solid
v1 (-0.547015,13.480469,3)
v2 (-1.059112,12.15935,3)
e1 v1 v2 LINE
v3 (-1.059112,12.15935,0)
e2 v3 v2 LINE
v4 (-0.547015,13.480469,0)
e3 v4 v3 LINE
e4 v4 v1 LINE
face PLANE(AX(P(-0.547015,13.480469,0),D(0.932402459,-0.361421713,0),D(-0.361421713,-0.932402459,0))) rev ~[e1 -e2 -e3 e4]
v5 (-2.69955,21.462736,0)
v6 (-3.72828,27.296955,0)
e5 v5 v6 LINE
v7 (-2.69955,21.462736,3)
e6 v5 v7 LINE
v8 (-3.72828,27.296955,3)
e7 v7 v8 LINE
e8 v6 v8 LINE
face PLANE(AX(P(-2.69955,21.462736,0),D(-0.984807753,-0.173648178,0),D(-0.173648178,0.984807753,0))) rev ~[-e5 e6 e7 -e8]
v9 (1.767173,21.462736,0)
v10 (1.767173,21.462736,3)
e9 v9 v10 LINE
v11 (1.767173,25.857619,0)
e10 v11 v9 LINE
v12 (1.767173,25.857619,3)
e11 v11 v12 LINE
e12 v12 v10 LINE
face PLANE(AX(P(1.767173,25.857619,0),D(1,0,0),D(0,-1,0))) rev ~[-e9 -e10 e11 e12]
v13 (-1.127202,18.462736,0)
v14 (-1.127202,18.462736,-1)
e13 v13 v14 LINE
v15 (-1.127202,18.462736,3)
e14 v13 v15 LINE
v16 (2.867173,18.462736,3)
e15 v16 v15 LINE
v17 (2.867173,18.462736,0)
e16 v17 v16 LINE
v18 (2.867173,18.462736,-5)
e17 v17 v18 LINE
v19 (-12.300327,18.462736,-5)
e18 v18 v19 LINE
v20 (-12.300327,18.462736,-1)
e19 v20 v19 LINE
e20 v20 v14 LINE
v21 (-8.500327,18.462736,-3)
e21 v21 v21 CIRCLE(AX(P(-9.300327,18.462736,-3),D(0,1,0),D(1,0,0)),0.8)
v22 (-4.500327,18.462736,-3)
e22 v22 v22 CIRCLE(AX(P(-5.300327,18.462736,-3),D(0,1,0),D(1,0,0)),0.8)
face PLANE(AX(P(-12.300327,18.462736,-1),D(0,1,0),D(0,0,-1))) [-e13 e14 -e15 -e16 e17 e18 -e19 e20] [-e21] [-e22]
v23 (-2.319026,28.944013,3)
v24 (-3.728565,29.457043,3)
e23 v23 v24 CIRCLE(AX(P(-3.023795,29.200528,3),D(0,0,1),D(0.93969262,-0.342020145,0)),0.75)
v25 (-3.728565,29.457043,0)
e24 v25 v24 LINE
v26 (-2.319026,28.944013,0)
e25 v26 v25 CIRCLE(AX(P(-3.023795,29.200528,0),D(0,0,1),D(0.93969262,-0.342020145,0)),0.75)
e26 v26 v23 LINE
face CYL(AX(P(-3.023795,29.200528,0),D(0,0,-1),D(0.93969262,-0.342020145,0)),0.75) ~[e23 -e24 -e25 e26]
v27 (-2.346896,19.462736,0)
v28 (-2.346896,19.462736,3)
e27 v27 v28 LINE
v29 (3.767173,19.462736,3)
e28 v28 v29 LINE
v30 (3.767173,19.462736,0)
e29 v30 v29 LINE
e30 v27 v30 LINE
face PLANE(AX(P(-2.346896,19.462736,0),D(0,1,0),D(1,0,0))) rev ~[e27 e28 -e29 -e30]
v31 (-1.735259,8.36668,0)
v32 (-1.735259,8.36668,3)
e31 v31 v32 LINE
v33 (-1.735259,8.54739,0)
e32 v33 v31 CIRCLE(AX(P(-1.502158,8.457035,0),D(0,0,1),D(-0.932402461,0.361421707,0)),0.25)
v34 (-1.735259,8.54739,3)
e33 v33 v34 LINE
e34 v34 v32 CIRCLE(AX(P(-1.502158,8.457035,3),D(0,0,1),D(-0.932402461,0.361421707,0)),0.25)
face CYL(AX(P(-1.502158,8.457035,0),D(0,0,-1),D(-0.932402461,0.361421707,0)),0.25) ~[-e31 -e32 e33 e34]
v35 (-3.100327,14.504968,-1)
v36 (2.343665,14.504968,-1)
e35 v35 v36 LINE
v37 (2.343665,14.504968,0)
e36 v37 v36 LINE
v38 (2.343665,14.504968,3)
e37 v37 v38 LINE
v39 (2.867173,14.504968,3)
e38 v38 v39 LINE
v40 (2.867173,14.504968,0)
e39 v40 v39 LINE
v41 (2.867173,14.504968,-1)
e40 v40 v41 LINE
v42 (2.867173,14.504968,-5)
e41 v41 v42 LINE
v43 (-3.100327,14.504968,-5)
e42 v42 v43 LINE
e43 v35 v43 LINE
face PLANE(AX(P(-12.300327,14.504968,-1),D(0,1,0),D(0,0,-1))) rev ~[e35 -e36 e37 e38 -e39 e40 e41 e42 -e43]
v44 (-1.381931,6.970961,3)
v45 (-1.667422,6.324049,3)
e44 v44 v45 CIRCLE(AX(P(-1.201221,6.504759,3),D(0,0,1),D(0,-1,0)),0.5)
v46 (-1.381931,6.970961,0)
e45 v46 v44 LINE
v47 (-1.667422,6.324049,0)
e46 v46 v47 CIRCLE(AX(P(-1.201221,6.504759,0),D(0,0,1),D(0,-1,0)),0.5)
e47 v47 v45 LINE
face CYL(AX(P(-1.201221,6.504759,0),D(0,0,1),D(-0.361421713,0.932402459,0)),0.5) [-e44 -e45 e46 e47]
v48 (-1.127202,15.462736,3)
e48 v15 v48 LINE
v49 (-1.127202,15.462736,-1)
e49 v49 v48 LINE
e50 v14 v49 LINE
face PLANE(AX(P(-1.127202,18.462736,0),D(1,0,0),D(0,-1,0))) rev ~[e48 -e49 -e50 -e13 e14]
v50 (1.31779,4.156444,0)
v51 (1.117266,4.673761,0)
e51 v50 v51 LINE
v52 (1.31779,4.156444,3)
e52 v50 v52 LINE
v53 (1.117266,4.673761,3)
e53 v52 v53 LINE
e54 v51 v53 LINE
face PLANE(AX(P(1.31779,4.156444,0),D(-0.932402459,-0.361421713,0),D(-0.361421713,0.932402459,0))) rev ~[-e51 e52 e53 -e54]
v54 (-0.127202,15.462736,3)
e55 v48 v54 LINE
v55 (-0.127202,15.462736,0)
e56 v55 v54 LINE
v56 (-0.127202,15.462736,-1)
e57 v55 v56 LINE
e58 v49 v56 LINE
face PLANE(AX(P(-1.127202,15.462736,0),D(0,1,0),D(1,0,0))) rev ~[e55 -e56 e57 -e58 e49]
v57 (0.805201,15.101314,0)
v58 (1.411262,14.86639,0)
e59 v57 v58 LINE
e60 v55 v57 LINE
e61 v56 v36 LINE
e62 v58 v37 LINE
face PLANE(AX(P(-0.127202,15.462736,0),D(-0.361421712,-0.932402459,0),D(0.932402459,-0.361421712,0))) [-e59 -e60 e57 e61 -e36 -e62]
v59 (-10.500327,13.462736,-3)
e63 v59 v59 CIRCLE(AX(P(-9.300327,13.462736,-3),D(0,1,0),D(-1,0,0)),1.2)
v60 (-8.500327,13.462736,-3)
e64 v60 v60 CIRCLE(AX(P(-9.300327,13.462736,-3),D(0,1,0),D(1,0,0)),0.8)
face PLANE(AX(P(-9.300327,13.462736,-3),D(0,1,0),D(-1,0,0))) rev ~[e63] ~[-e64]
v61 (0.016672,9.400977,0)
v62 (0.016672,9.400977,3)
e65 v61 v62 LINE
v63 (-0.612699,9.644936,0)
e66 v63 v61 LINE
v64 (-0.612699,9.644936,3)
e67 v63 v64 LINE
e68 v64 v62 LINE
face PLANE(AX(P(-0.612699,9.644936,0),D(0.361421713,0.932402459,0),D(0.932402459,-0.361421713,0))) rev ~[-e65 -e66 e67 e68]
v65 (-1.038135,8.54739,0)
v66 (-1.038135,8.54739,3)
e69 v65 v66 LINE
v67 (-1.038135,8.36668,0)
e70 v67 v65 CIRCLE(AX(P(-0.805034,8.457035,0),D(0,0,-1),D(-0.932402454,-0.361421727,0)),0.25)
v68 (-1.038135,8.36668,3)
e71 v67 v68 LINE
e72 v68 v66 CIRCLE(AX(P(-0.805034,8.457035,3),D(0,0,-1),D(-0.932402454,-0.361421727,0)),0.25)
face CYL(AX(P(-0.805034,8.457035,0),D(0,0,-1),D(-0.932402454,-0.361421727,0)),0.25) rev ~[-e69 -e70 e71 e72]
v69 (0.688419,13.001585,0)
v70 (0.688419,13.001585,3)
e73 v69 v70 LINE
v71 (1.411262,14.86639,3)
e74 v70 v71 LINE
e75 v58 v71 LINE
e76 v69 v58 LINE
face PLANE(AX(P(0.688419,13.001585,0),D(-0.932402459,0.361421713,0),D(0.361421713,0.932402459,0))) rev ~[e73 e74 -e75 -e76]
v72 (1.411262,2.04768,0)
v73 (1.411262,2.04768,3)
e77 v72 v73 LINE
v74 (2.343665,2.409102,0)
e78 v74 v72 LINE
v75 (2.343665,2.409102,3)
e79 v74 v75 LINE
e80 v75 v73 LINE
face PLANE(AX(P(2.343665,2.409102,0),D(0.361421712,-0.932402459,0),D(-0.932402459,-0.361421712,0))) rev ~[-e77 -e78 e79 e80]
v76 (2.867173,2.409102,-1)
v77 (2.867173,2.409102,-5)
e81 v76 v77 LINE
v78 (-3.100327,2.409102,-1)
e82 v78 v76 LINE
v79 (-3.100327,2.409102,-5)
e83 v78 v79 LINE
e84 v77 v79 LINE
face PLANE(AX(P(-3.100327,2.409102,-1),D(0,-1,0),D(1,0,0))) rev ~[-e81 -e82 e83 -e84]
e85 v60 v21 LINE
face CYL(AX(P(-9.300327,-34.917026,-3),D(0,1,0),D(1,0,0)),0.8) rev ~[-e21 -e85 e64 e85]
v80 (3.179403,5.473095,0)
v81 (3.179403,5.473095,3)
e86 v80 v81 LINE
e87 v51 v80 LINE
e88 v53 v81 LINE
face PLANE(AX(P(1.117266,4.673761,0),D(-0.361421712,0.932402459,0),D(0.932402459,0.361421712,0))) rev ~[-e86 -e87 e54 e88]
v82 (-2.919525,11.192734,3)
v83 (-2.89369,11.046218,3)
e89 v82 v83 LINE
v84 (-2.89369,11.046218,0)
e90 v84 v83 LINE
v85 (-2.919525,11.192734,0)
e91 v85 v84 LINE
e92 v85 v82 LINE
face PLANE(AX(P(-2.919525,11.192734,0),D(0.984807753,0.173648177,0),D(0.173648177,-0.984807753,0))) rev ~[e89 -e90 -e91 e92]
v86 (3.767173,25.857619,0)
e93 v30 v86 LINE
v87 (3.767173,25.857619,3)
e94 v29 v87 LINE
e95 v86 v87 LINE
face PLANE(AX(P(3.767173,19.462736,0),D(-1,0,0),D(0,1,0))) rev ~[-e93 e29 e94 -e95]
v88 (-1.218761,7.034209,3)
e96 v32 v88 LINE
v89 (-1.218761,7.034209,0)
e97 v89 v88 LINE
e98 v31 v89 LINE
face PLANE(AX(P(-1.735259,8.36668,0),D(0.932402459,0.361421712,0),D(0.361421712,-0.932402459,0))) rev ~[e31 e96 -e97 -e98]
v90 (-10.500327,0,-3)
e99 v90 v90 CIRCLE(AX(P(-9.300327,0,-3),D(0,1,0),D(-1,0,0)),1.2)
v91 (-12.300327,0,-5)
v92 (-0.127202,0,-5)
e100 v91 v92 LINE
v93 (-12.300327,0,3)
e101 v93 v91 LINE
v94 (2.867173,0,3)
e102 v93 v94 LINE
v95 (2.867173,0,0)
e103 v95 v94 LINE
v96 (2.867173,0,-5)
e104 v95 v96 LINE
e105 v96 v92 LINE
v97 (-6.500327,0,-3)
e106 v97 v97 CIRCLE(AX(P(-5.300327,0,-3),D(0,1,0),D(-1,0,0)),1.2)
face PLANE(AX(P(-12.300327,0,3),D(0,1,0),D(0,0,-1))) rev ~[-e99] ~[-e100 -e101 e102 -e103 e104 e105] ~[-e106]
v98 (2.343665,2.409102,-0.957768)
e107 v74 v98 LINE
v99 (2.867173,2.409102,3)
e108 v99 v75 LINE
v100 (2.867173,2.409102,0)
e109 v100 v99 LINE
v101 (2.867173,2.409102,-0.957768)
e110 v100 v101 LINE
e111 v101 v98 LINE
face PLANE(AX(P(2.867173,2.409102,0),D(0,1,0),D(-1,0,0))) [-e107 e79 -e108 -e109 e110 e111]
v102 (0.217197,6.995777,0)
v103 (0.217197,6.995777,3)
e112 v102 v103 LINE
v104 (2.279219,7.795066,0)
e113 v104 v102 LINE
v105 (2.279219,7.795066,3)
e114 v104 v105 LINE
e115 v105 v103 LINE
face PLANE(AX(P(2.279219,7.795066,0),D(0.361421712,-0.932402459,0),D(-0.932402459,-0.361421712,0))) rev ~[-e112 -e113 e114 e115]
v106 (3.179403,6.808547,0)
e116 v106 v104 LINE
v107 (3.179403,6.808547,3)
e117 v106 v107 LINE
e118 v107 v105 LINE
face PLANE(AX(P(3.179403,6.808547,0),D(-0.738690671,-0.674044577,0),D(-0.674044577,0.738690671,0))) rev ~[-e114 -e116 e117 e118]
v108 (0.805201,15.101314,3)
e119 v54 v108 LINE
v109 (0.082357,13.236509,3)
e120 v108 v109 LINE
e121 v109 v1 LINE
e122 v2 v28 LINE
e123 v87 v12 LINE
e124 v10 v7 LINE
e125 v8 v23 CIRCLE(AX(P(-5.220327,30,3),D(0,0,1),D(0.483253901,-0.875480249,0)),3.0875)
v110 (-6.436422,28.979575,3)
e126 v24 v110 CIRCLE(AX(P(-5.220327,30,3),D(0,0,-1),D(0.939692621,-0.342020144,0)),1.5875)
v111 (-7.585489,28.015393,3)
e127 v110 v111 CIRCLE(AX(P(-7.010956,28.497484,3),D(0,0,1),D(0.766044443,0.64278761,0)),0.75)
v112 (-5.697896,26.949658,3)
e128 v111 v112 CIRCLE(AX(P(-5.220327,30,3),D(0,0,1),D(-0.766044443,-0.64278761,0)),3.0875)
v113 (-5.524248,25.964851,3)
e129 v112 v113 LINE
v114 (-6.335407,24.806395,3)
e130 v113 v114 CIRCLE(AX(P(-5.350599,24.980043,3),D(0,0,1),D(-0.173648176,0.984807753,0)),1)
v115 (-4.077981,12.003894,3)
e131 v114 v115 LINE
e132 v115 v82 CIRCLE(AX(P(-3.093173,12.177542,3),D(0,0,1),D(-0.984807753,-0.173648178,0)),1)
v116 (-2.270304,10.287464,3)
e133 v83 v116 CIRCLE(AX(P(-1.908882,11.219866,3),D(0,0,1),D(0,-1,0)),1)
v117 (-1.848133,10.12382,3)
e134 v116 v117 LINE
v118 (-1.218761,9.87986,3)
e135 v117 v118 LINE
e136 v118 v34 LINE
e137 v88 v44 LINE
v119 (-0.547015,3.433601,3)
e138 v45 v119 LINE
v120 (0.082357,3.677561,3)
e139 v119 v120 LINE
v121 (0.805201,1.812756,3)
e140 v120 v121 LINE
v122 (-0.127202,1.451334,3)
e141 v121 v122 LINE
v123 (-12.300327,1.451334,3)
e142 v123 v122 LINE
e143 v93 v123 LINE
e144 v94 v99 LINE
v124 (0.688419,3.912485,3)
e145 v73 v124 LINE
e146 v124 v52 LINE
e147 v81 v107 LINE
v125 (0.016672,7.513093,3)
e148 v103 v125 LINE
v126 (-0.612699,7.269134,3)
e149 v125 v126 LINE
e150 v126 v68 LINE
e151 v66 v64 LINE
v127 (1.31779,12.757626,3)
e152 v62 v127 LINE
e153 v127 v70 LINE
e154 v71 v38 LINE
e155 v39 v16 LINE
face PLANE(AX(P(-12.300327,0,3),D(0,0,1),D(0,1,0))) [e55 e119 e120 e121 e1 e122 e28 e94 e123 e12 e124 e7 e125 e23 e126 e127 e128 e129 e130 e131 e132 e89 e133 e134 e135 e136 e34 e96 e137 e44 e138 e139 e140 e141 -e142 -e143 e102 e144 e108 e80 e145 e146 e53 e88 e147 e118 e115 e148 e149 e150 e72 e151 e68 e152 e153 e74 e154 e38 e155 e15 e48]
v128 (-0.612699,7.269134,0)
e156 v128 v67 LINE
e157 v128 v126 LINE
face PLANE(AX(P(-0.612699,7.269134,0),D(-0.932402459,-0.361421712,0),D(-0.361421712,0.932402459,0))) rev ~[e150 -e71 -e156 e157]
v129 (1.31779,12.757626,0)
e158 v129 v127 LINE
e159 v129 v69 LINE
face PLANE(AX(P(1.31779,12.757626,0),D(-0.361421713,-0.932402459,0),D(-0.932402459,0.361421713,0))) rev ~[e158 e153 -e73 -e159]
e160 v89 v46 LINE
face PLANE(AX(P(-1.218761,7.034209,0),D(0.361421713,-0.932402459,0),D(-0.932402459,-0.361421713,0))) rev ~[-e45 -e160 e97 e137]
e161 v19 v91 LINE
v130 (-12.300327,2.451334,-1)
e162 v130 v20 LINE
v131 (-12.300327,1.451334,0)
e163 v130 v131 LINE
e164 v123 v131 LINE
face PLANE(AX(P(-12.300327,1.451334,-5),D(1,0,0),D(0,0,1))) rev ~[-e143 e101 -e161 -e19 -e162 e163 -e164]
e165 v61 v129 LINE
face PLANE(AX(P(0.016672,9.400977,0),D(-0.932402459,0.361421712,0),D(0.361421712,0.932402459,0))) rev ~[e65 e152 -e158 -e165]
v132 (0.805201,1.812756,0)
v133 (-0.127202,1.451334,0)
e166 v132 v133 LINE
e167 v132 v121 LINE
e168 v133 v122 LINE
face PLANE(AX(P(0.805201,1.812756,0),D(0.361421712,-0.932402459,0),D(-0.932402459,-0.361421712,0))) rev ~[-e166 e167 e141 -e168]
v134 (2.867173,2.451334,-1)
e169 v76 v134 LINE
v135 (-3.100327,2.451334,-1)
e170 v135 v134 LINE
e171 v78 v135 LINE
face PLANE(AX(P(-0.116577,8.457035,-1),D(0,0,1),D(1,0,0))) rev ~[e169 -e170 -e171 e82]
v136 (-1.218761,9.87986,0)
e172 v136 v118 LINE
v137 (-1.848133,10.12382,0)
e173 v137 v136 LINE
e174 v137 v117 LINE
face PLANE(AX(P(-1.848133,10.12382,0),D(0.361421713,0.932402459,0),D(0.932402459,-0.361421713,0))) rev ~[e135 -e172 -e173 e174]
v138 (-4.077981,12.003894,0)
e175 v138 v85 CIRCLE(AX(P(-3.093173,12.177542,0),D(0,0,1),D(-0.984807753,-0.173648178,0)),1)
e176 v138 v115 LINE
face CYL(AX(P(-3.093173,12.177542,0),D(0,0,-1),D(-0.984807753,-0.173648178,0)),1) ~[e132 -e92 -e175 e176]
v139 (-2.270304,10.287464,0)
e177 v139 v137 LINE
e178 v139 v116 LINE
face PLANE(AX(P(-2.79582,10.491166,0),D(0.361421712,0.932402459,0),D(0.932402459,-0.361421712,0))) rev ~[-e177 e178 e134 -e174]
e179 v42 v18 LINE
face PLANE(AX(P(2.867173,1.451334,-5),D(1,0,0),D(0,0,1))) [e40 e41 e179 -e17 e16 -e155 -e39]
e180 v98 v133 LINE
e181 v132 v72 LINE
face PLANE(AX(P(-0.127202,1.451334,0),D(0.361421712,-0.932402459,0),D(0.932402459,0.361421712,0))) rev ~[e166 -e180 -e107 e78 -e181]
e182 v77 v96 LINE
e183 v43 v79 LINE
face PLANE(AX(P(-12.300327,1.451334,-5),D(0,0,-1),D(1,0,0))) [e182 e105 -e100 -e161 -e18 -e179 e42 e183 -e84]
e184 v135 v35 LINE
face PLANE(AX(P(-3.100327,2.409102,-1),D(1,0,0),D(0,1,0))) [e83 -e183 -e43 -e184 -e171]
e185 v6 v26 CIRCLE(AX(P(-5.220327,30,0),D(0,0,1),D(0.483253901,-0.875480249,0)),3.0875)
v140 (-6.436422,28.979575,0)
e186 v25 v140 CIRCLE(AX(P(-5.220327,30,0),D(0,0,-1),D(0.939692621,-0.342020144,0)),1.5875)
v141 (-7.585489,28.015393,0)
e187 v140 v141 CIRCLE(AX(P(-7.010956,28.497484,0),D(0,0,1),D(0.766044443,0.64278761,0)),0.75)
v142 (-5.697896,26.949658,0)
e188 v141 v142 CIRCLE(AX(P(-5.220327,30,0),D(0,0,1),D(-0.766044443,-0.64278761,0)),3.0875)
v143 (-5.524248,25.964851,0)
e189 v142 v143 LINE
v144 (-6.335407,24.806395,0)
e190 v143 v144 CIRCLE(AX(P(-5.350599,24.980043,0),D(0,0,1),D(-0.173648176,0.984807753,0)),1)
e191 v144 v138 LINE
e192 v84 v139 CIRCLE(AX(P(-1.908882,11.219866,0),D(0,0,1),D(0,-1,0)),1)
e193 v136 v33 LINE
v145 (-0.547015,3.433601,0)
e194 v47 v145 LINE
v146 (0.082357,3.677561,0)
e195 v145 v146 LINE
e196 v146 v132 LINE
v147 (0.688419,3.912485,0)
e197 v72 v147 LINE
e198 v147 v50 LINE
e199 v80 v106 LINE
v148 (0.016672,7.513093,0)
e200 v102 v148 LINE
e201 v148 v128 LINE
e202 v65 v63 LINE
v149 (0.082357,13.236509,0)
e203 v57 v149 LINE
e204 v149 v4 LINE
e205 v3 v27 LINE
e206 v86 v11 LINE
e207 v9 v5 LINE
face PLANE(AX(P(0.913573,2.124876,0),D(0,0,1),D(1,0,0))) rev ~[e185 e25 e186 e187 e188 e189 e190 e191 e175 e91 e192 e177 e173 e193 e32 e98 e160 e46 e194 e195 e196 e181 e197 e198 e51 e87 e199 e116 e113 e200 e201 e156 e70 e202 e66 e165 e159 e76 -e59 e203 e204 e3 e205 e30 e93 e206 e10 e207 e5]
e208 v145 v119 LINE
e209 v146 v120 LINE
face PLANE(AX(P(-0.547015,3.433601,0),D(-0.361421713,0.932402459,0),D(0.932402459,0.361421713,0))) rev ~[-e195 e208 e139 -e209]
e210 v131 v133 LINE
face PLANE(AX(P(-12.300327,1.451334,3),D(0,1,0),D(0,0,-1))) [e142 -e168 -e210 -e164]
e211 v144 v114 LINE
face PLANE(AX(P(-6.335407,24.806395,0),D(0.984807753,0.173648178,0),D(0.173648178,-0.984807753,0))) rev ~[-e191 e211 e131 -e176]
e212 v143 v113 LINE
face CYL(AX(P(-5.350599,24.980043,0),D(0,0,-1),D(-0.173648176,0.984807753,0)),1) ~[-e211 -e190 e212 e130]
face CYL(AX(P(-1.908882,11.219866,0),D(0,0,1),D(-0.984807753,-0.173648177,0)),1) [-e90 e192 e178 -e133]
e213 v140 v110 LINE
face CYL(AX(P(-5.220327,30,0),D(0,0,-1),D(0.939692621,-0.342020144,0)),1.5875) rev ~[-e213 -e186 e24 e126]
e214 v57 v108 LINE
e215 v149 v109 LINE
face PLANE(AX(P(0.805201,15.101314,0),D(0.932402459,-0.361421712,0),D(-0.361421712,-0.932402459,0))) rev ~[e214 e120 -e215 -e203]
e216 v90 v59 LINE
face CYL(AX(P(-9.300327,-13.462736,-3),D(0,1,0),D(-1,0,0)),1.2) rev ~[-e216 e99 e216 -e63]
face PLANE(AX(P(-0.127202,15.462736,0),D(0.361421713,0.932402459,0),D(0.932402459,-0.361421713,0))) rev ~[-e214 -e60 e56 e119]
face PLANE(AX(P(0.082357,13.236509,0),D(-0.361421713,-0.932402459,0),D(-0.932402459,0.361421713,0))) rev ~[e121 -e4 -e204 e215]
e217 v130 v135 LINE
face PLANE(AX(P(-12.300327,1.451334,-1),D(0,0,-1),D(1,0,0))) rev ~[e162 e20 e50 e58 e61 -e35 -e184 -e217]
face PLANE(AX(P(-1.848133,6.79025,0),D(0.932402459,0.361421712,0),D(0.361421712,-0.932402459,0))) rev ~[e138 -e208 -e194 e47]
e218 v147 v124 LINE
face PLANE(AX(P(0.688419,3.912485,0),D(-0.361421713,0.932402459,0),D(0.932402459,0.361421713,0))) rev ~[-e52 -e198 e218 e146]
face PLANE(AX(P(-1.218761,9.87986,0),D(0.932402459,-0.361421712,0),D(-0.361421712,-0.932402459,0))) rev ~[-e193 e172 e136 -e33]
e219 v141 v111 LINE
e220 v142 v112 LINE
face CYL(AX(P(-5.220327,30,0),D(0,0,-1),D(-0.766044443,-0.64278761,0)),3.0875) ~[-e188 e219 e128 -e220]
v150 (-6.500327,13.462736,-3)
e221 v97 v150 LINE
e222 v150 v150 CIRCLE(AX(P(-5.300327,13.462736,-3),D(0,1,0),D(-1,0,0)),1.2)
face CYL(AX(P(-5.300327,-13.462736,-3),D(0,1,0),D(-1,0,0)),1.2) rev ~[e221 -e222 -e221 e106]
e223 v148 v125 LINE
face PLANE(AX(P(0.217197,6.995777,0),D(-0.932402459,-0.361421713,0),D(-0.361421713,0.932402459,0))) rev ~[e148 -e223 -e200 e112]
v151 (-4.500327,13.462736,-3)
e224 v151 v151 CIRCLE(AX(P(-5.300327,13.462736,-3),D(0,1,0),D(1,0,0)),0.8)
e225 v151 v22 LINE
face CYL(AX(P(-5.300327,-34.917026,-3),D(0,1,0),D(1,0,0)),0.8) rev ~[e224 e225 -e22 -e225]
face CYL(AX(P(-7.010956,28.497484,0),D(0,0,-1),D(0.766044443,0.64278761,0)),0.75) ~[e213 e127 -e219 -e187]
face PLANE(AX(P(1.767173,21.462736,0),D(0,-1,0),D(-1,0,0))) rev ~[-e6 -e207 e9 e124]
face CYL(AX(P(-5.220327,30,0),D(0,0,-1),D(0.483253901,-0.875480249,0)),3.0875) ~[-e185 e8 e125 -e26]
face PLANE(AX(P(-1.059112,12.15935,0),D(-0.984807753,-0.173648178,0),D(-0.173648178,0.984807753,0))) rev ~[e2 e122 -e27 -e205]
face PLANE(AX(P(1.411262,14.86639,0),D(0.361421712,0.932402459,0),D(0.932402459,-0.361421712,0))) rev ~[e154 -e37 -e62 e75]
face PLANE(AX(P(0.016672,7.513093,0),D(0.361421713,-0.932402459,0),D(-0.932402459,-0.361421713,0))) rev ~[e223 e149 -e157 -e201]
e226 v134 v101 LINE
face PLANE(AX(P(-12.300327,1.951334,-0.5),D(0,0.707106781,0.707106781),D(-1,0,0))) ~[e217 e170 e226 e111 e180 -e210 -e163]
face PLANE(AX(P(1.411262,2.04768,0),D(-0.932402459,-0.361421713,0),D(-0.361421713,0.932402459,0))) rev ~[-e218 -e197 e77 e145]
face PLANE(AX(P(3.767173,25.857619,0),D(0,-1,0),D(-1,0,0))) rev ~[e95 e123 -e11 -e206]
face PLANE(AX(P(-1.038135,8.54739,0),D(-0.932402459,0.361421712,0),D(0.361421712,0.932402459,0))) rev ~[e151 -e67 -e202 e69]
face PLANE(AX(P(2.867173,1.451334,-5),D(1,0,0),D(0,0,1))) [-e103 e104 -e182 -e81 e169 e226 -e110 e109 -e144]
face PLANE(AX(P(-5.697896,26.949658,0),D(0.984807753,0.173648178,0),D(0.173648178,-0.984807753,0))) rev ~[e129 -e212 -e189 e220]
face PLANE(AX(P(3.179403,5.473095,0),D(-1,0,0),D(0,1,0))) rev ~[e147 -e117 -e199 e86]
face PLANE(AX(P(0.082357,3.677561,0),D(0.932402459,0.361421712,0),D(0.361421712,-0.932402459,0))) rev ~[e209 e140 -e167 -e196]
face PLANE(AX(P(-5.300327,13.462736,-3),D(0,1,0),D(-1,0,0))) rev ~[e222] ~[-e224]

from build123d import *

# Parameters (mm, degrees)
BOSS_SWITCH_BODY_DEPTH            = 3
SKETCH1_W                         = 2.994375291
SKETCH1_H                         = 2.409101515
SKETCH1_W_2                       = 3.994375291
SKETCH1_H_2                       = 3.957767538
BOSS_FLANGE_WIDTH_DEPTH           = 5
BOSS_FLANGE_HEIGHT_REACH          = 36.354
SKETCH2_W                         = 4
SKETCH2_H                         = 3.957767538
SKETCH2_W_2                       = 8
SKETCH2_H_2                       = 1.451333978
SKETCH17_W                        = 15.1675
SKETCH17_H                        = 4
BOSS_FLANGE_SUPPORT_DEPTH         = 13.053634428
CUT_WALL_GAP_DEPTH                = 1
TAP_DRILL_FOR_M2X0_4_TAP1_D       = 1.6
M2_CLEARANCE_HOLE2_D              = 2.4
M2_CLEARANCE_HOLE2_DEPTH          = 13.462735941
CHAMFER_FLANGE_SUPPORT_3_SIZE     = 1
FILLET1_R                         = 1
FILLET2_R                         = 0.5
SKETCH28_W                        = 5.9675
SKETCH28_H                        = 12.095866891
CUT_PRINT_SUPPORT_CLEARANCE_DEPTH = 33.624103931


with BuildPart() as part:
    # Sketch-SwitchBossUp → Boss-Switch Body (new body)
    with BuildSketch(Plane.XY):
        with BuildLine():
            Line((-5.697895702, 26.949658376), (-5.524247524, 25.964850623))
            ThreePointArc((-5.524247524, 25.964850623), (-6.169751391, 25.553619307), (-6.3354071, 24.806394693))
            Line((-6.3354071, 24.806394693), (-4.07798079, 12.003893904))
            ThreePointArc((-4.07798079, 12.003893904), (-3.666749473, 11.358390037), (-2.919524859, 11.192734328))
            Line((-2.919524859, 11.192734328), (-2.795819507, 10.49116641))
            Line((-2.795819507, 10.49116641), (-1.8481327, 10.123820116))
            Line((-1.8481327, 10.123820116), (-1.21876104, 9.87986046))
            Line((-1.21876104, 9.87986046), (-1.735258621, 8.547390389))
            ThreePointArc((-1.735258621, 8.547390389), (-1.752158006, 8.457034961), (-1.735258621, 8.366679532))
            Line((-1.735258621, 8.366679532), (-1.21876104, 7.034209461))
            Line((-1.21876104, 7.034209461), (-1.8481327, 6.790249805))
            Line((-1.8481327, 6.790249805), (-0.547014535, 3.433600952))
            Line((-0.547014535, 3.433600952), (0.082357125, 3.677560608))
            Line((0.082357125, 3.677560608), (0.805200549, 1.81275569))
            Line((0.805200549, 1.81275569), (-0.12720191, 1.451333978))
            Line((-0.12720191, 1.451333978), (-0.12720191, 0))
            Line((-0.12720191, 0), (2.867173381, 0))
            Line((2.867173381, 0), (2.867173381, 2.409101515))
            Line((2.867173381, 2.409101515), (2.343664607, 2.409101515))
            Line((2.343664607, 2.409101515), (1.411262148, 2.047679803))
            Line((1.411262148, 2.047679803), (0.688418723, 3.912484721))
            Line((0.688418723, 3.912484721), (1.317790383, 4.156444377))
            Line((1.317790383, 4.156444377), (1.117265944, 4.673761056))
            Line((1.117265944, 4.673761056), (3.17940291, 5.473095148))
            Line((3.17940291, 5.473095148), (3.17940291, 6.808547192))
            Line((3.17940291, 6.808547192), (2.279218661, 7.795066081))
            Line((2.279218661, 7.795066081), (0.217196658, 6.995776551))
            Line((0.217196658, 6.995776551), (0.016672219, 7.51309323))
            Line((0.016672219, 7.51309323), (-0.612699441, 7.269133574))
            Line((-0.612699441, 7.269133574), (-1.038134762, 8.366679532))
            ThreePointArc((-1.038134762, 8.366679532), (-1.055034148, 8.457034961), (-1.038134762, 8.547390389))
            Line((-1.038134762, 8.547390389), (-0.612699441, 9.644936347))
            Line((-0.612699441, 9.644936347), (0.016672219, 9.400976691))
            Line((0.016672219, 9.400976691), (1.317790383, 12.757625544))
            Line((1.317790383, 12.757625544), (0.688418723, 13.0015852))
            Line((0.688418723, 13.0015852), (1.411262148, 14.866390118))
            Line((1.411262148, 14.866390118), (2.343664607, 14.504968406))
            Line((2.343664607, 14.504968406), (2.867173381, 14.504968406))
            Line((2.867173381, 14.504968406), (2.867173381, 18.462735944))
            Line((2.867173381, 18.462735944), (-0.111637615, 18.462735944))
            Line((-0.111637615, 18.462735944), (-1.12720191, 18.462735944))
            Line((-1.12720191, 18.462735944), (-1.12720191, 15.462735944))
            Line((-1.12720191, 15.462735944), (-0.12720191, 15.462735944))
            Line((-0.12720191, 15.462735944), (0.805200549, 15.101314231))
            Line((0.805200549, 15.101314231), (0.082357125, 13.236509313))
            Line((0.082357125, 13.236509313), (-0.547014535, 13.480468969))
            Line((-0.547014535, 13.480468969), (-1.059112089, 12.159350171))
            Line((-1.059112089, 12.159350171), (-2.346896051, 19.462735944))
            Line((-2.346896051, 19.462735944), (3.767173381, 19.462735944))
            Line((3.767173381, 19.462735944), (3.767173381, 25.857619356))
            Line((3.767173381, 25.857619356), (1.767173381, 25.857619356))
            Line((1.767173381, 25.857619356), (1.767173381, 21.462735944))
            Line((1.767173381, 21.462735944), (-2.699550012, 21.462735944))
            Line((-2.699550012, 21.462735944), (-3.728280196, 27.296954732))
            ThreePointArc((-3.728280196, 27.296954732), (-2.874356585, 27.992742953), (-2.319025652, 28.944012807))
            ThreePointArc((-2.319025652, 28.944012807), (-2.76728001, 29.905297381), (-3.728564583, 29.457043022))
            ThreePointArc((-3.728564583, 29.457043022), (-4.944660137, 28.436617692), (-6.436422172, 28.97957467))
            ThreePointArc((-6.436422172, 28.97957467), (-7.493046212, 29.072017295), (-7.585488837, 28.015393255))
            ThreePointArc((-7.585488837, 28.015393255), (-6.738295005, 27.311426358), (-5.697895702, 26.949658376))
        make_face()
    extrude(amount=BOSS_SWITCH_BODY_DEPTH)

    # Sketch1 → Boss-Flange Width (add)
    with BuildSketch(Plane(origin=(0, 0, 0), x_dir=(-1, 0, 0), z_dir=(0, 0, -1))):
        with Locations((-1.369985736, 1.204550758)):
            Rectangle(SKETCH1_W, SKETCH1_H)
        with Locations((-0.869985736, 16.483852175)):
            Rectangle(SKETCH1_W_2, SKETCH1_H_2)
    extrude(amount=BOSS_FLANGE_WIDTH_DEPTH)

    # Boss-Flange Height: up to this face of the body (flat: up to its plane)
    boss_flange_height_end = Plane(part.part.faces().sort_by_distance((-0.12720191, 1.077409098, -1.438016547))[0])
    # Sketch2 → Boss-Flange Height (add, up to the picked face)
    with BuildSketch(Plane(origin=(-12.300326619, 0, 0), x_dir=(0, 0, -1), z_dir=(1, 0, 0)), mode=Mode.PRIVATE) as boss_flange_height_sk1:
        with Locations((3, 16.483852175)):
            Rectangle(SKETCH2_W, SKETCH2_H)
    boss_flange_height_tool1 = split(extrude(boss_flange_height_sk1.sketch, amount=BOSS_FLANGE_HEIGHT_REACH, mode=Mode.PRIVATE), bisect_by=boss_flange_height_end, keep=Keep.BOTH, mode=Mode.PRIVATE)
    # Sketch2 → Boss-Flange Height (add, up to the picked face)
    with BuildSketch(Plane(origin=(-12.300326619, 0, 0), x_dir=(0, 0, -1), z_dir=(1, 0, 0)), mode=Mode.PRIVATE) as boss_flange_height_sk2:
        with Locations((1, 0.725666989)):
            Rectangle(SKETCH2_W_2, SKETCH2_H_2)
    boss_flange_height_tool2 = split(extrude(boss_flange_height_sk2.sketch, amount=BOSS_FLANGE_HEIGHT_REACH, mode=Mode.PRIVATE), bisect_by=boss_flange_height_end, keep=Keep.BOTH, mode=Mode.PRIVATE)
    add(boss_flange_height_tool1.solids().sort_by(Axis((-12.300327, 16.483852, -3), (1, 0, 0)))[0])
    add(boss_flange_height_tool2.solids().sort_by(Axis((-12.300327, 0.725667, -1), (1, 0, 0)))[0])

    # Sketch17 → Boss-Flange Support (add)
    with BuildSketch(Plane.XZ.offset(-1.451333978)):
        with Locations((-4.716576619, -3)):
            Rectangle(SKETCH17_W, SKETCH17_H)
    extrude(amount=-BOSS_FLANGE_SUPPORT_DEPTH)

    # Sketch27 → Cut-Wall Gap (cut)
    with BuildSketch(Plane.XY):
        Polygon((-0.12720191, 15.462735944), (2.343664607, 14.504968406), (-1.12720191, 14.504968406), (-1.12720191, 15.462735944), align=None)
        Polygon((2.343664607, 2.409101515), (-0.12720191, 2.409101515), (-0.12720191, 1.451333978), align=None)
    extrude(amount=-CUT_WALL_GAP_DEPTH, mode=Mode.SUBTRACT)

    # Tap Drill for M2x0.4 Tap1 (through all)
    with Locations(Plane(origin=(0, 0, 0), x_dir=(-1, 0, 0), z_dir=(0, -1, 0))):
        with Locations((9.300326619, 3), (5.300326619, 3)):
            Hole(TAP_DRILL_FOR_M2X0_4_TAP1_D / 2)

    # M2 Clearance Hole2
    with Locations(Plane.XZ):
        with Locations((-9.300326619, -3), (-5.300326619, -3)):
            Hole(M2_CLEARANCE_HOLE2_D / 2, depth=M2_CLEARANCE_HOLE2_DEPTH)

    # Chamfer-Flange Support 3
    chamfer_flange_support_3_edges = [part.edges().sort_by_distance(p)[0] for p in [
        (-6.213764264, 1.451333978, -1),
    ]]
    chamfer(chamfer_flange_support_3_edges, length=CHAMFER_FLANGE_SUPPORT_3_SIZE)

    # Fillet1
    fillet1_edges = [part.edges().sort_by_distance(p)[0] for p in [
        (-2.795819507, 10.49116641, 1.5),
    ]]
    fillet(fillet1_edges, radius=FILLET1_R)

    # Fillet2
    fillet2_edges = [part.edges().sort_by_distance(p)[0] for p in [
        (-1.8481327, 6.790249805, 1.5),
    ]]
    fillet(fillet2_edges, radius=FILLET2_R)

    # Sketch28 → Cut-Print Support Clearance (cut, through all)
    with BuildSketch(Plane.XY.offset(-1)):
        with Locations((-0.116576619, 8.457034961)):
            Rectangle(SKETCH28_W, SKETCH28_H)
    extrude(amount=-CUT_PRINT_SUPPORT_CLEARANCE_DEPTH, mode=Mode.SUBTRACT)


solid = part.part
